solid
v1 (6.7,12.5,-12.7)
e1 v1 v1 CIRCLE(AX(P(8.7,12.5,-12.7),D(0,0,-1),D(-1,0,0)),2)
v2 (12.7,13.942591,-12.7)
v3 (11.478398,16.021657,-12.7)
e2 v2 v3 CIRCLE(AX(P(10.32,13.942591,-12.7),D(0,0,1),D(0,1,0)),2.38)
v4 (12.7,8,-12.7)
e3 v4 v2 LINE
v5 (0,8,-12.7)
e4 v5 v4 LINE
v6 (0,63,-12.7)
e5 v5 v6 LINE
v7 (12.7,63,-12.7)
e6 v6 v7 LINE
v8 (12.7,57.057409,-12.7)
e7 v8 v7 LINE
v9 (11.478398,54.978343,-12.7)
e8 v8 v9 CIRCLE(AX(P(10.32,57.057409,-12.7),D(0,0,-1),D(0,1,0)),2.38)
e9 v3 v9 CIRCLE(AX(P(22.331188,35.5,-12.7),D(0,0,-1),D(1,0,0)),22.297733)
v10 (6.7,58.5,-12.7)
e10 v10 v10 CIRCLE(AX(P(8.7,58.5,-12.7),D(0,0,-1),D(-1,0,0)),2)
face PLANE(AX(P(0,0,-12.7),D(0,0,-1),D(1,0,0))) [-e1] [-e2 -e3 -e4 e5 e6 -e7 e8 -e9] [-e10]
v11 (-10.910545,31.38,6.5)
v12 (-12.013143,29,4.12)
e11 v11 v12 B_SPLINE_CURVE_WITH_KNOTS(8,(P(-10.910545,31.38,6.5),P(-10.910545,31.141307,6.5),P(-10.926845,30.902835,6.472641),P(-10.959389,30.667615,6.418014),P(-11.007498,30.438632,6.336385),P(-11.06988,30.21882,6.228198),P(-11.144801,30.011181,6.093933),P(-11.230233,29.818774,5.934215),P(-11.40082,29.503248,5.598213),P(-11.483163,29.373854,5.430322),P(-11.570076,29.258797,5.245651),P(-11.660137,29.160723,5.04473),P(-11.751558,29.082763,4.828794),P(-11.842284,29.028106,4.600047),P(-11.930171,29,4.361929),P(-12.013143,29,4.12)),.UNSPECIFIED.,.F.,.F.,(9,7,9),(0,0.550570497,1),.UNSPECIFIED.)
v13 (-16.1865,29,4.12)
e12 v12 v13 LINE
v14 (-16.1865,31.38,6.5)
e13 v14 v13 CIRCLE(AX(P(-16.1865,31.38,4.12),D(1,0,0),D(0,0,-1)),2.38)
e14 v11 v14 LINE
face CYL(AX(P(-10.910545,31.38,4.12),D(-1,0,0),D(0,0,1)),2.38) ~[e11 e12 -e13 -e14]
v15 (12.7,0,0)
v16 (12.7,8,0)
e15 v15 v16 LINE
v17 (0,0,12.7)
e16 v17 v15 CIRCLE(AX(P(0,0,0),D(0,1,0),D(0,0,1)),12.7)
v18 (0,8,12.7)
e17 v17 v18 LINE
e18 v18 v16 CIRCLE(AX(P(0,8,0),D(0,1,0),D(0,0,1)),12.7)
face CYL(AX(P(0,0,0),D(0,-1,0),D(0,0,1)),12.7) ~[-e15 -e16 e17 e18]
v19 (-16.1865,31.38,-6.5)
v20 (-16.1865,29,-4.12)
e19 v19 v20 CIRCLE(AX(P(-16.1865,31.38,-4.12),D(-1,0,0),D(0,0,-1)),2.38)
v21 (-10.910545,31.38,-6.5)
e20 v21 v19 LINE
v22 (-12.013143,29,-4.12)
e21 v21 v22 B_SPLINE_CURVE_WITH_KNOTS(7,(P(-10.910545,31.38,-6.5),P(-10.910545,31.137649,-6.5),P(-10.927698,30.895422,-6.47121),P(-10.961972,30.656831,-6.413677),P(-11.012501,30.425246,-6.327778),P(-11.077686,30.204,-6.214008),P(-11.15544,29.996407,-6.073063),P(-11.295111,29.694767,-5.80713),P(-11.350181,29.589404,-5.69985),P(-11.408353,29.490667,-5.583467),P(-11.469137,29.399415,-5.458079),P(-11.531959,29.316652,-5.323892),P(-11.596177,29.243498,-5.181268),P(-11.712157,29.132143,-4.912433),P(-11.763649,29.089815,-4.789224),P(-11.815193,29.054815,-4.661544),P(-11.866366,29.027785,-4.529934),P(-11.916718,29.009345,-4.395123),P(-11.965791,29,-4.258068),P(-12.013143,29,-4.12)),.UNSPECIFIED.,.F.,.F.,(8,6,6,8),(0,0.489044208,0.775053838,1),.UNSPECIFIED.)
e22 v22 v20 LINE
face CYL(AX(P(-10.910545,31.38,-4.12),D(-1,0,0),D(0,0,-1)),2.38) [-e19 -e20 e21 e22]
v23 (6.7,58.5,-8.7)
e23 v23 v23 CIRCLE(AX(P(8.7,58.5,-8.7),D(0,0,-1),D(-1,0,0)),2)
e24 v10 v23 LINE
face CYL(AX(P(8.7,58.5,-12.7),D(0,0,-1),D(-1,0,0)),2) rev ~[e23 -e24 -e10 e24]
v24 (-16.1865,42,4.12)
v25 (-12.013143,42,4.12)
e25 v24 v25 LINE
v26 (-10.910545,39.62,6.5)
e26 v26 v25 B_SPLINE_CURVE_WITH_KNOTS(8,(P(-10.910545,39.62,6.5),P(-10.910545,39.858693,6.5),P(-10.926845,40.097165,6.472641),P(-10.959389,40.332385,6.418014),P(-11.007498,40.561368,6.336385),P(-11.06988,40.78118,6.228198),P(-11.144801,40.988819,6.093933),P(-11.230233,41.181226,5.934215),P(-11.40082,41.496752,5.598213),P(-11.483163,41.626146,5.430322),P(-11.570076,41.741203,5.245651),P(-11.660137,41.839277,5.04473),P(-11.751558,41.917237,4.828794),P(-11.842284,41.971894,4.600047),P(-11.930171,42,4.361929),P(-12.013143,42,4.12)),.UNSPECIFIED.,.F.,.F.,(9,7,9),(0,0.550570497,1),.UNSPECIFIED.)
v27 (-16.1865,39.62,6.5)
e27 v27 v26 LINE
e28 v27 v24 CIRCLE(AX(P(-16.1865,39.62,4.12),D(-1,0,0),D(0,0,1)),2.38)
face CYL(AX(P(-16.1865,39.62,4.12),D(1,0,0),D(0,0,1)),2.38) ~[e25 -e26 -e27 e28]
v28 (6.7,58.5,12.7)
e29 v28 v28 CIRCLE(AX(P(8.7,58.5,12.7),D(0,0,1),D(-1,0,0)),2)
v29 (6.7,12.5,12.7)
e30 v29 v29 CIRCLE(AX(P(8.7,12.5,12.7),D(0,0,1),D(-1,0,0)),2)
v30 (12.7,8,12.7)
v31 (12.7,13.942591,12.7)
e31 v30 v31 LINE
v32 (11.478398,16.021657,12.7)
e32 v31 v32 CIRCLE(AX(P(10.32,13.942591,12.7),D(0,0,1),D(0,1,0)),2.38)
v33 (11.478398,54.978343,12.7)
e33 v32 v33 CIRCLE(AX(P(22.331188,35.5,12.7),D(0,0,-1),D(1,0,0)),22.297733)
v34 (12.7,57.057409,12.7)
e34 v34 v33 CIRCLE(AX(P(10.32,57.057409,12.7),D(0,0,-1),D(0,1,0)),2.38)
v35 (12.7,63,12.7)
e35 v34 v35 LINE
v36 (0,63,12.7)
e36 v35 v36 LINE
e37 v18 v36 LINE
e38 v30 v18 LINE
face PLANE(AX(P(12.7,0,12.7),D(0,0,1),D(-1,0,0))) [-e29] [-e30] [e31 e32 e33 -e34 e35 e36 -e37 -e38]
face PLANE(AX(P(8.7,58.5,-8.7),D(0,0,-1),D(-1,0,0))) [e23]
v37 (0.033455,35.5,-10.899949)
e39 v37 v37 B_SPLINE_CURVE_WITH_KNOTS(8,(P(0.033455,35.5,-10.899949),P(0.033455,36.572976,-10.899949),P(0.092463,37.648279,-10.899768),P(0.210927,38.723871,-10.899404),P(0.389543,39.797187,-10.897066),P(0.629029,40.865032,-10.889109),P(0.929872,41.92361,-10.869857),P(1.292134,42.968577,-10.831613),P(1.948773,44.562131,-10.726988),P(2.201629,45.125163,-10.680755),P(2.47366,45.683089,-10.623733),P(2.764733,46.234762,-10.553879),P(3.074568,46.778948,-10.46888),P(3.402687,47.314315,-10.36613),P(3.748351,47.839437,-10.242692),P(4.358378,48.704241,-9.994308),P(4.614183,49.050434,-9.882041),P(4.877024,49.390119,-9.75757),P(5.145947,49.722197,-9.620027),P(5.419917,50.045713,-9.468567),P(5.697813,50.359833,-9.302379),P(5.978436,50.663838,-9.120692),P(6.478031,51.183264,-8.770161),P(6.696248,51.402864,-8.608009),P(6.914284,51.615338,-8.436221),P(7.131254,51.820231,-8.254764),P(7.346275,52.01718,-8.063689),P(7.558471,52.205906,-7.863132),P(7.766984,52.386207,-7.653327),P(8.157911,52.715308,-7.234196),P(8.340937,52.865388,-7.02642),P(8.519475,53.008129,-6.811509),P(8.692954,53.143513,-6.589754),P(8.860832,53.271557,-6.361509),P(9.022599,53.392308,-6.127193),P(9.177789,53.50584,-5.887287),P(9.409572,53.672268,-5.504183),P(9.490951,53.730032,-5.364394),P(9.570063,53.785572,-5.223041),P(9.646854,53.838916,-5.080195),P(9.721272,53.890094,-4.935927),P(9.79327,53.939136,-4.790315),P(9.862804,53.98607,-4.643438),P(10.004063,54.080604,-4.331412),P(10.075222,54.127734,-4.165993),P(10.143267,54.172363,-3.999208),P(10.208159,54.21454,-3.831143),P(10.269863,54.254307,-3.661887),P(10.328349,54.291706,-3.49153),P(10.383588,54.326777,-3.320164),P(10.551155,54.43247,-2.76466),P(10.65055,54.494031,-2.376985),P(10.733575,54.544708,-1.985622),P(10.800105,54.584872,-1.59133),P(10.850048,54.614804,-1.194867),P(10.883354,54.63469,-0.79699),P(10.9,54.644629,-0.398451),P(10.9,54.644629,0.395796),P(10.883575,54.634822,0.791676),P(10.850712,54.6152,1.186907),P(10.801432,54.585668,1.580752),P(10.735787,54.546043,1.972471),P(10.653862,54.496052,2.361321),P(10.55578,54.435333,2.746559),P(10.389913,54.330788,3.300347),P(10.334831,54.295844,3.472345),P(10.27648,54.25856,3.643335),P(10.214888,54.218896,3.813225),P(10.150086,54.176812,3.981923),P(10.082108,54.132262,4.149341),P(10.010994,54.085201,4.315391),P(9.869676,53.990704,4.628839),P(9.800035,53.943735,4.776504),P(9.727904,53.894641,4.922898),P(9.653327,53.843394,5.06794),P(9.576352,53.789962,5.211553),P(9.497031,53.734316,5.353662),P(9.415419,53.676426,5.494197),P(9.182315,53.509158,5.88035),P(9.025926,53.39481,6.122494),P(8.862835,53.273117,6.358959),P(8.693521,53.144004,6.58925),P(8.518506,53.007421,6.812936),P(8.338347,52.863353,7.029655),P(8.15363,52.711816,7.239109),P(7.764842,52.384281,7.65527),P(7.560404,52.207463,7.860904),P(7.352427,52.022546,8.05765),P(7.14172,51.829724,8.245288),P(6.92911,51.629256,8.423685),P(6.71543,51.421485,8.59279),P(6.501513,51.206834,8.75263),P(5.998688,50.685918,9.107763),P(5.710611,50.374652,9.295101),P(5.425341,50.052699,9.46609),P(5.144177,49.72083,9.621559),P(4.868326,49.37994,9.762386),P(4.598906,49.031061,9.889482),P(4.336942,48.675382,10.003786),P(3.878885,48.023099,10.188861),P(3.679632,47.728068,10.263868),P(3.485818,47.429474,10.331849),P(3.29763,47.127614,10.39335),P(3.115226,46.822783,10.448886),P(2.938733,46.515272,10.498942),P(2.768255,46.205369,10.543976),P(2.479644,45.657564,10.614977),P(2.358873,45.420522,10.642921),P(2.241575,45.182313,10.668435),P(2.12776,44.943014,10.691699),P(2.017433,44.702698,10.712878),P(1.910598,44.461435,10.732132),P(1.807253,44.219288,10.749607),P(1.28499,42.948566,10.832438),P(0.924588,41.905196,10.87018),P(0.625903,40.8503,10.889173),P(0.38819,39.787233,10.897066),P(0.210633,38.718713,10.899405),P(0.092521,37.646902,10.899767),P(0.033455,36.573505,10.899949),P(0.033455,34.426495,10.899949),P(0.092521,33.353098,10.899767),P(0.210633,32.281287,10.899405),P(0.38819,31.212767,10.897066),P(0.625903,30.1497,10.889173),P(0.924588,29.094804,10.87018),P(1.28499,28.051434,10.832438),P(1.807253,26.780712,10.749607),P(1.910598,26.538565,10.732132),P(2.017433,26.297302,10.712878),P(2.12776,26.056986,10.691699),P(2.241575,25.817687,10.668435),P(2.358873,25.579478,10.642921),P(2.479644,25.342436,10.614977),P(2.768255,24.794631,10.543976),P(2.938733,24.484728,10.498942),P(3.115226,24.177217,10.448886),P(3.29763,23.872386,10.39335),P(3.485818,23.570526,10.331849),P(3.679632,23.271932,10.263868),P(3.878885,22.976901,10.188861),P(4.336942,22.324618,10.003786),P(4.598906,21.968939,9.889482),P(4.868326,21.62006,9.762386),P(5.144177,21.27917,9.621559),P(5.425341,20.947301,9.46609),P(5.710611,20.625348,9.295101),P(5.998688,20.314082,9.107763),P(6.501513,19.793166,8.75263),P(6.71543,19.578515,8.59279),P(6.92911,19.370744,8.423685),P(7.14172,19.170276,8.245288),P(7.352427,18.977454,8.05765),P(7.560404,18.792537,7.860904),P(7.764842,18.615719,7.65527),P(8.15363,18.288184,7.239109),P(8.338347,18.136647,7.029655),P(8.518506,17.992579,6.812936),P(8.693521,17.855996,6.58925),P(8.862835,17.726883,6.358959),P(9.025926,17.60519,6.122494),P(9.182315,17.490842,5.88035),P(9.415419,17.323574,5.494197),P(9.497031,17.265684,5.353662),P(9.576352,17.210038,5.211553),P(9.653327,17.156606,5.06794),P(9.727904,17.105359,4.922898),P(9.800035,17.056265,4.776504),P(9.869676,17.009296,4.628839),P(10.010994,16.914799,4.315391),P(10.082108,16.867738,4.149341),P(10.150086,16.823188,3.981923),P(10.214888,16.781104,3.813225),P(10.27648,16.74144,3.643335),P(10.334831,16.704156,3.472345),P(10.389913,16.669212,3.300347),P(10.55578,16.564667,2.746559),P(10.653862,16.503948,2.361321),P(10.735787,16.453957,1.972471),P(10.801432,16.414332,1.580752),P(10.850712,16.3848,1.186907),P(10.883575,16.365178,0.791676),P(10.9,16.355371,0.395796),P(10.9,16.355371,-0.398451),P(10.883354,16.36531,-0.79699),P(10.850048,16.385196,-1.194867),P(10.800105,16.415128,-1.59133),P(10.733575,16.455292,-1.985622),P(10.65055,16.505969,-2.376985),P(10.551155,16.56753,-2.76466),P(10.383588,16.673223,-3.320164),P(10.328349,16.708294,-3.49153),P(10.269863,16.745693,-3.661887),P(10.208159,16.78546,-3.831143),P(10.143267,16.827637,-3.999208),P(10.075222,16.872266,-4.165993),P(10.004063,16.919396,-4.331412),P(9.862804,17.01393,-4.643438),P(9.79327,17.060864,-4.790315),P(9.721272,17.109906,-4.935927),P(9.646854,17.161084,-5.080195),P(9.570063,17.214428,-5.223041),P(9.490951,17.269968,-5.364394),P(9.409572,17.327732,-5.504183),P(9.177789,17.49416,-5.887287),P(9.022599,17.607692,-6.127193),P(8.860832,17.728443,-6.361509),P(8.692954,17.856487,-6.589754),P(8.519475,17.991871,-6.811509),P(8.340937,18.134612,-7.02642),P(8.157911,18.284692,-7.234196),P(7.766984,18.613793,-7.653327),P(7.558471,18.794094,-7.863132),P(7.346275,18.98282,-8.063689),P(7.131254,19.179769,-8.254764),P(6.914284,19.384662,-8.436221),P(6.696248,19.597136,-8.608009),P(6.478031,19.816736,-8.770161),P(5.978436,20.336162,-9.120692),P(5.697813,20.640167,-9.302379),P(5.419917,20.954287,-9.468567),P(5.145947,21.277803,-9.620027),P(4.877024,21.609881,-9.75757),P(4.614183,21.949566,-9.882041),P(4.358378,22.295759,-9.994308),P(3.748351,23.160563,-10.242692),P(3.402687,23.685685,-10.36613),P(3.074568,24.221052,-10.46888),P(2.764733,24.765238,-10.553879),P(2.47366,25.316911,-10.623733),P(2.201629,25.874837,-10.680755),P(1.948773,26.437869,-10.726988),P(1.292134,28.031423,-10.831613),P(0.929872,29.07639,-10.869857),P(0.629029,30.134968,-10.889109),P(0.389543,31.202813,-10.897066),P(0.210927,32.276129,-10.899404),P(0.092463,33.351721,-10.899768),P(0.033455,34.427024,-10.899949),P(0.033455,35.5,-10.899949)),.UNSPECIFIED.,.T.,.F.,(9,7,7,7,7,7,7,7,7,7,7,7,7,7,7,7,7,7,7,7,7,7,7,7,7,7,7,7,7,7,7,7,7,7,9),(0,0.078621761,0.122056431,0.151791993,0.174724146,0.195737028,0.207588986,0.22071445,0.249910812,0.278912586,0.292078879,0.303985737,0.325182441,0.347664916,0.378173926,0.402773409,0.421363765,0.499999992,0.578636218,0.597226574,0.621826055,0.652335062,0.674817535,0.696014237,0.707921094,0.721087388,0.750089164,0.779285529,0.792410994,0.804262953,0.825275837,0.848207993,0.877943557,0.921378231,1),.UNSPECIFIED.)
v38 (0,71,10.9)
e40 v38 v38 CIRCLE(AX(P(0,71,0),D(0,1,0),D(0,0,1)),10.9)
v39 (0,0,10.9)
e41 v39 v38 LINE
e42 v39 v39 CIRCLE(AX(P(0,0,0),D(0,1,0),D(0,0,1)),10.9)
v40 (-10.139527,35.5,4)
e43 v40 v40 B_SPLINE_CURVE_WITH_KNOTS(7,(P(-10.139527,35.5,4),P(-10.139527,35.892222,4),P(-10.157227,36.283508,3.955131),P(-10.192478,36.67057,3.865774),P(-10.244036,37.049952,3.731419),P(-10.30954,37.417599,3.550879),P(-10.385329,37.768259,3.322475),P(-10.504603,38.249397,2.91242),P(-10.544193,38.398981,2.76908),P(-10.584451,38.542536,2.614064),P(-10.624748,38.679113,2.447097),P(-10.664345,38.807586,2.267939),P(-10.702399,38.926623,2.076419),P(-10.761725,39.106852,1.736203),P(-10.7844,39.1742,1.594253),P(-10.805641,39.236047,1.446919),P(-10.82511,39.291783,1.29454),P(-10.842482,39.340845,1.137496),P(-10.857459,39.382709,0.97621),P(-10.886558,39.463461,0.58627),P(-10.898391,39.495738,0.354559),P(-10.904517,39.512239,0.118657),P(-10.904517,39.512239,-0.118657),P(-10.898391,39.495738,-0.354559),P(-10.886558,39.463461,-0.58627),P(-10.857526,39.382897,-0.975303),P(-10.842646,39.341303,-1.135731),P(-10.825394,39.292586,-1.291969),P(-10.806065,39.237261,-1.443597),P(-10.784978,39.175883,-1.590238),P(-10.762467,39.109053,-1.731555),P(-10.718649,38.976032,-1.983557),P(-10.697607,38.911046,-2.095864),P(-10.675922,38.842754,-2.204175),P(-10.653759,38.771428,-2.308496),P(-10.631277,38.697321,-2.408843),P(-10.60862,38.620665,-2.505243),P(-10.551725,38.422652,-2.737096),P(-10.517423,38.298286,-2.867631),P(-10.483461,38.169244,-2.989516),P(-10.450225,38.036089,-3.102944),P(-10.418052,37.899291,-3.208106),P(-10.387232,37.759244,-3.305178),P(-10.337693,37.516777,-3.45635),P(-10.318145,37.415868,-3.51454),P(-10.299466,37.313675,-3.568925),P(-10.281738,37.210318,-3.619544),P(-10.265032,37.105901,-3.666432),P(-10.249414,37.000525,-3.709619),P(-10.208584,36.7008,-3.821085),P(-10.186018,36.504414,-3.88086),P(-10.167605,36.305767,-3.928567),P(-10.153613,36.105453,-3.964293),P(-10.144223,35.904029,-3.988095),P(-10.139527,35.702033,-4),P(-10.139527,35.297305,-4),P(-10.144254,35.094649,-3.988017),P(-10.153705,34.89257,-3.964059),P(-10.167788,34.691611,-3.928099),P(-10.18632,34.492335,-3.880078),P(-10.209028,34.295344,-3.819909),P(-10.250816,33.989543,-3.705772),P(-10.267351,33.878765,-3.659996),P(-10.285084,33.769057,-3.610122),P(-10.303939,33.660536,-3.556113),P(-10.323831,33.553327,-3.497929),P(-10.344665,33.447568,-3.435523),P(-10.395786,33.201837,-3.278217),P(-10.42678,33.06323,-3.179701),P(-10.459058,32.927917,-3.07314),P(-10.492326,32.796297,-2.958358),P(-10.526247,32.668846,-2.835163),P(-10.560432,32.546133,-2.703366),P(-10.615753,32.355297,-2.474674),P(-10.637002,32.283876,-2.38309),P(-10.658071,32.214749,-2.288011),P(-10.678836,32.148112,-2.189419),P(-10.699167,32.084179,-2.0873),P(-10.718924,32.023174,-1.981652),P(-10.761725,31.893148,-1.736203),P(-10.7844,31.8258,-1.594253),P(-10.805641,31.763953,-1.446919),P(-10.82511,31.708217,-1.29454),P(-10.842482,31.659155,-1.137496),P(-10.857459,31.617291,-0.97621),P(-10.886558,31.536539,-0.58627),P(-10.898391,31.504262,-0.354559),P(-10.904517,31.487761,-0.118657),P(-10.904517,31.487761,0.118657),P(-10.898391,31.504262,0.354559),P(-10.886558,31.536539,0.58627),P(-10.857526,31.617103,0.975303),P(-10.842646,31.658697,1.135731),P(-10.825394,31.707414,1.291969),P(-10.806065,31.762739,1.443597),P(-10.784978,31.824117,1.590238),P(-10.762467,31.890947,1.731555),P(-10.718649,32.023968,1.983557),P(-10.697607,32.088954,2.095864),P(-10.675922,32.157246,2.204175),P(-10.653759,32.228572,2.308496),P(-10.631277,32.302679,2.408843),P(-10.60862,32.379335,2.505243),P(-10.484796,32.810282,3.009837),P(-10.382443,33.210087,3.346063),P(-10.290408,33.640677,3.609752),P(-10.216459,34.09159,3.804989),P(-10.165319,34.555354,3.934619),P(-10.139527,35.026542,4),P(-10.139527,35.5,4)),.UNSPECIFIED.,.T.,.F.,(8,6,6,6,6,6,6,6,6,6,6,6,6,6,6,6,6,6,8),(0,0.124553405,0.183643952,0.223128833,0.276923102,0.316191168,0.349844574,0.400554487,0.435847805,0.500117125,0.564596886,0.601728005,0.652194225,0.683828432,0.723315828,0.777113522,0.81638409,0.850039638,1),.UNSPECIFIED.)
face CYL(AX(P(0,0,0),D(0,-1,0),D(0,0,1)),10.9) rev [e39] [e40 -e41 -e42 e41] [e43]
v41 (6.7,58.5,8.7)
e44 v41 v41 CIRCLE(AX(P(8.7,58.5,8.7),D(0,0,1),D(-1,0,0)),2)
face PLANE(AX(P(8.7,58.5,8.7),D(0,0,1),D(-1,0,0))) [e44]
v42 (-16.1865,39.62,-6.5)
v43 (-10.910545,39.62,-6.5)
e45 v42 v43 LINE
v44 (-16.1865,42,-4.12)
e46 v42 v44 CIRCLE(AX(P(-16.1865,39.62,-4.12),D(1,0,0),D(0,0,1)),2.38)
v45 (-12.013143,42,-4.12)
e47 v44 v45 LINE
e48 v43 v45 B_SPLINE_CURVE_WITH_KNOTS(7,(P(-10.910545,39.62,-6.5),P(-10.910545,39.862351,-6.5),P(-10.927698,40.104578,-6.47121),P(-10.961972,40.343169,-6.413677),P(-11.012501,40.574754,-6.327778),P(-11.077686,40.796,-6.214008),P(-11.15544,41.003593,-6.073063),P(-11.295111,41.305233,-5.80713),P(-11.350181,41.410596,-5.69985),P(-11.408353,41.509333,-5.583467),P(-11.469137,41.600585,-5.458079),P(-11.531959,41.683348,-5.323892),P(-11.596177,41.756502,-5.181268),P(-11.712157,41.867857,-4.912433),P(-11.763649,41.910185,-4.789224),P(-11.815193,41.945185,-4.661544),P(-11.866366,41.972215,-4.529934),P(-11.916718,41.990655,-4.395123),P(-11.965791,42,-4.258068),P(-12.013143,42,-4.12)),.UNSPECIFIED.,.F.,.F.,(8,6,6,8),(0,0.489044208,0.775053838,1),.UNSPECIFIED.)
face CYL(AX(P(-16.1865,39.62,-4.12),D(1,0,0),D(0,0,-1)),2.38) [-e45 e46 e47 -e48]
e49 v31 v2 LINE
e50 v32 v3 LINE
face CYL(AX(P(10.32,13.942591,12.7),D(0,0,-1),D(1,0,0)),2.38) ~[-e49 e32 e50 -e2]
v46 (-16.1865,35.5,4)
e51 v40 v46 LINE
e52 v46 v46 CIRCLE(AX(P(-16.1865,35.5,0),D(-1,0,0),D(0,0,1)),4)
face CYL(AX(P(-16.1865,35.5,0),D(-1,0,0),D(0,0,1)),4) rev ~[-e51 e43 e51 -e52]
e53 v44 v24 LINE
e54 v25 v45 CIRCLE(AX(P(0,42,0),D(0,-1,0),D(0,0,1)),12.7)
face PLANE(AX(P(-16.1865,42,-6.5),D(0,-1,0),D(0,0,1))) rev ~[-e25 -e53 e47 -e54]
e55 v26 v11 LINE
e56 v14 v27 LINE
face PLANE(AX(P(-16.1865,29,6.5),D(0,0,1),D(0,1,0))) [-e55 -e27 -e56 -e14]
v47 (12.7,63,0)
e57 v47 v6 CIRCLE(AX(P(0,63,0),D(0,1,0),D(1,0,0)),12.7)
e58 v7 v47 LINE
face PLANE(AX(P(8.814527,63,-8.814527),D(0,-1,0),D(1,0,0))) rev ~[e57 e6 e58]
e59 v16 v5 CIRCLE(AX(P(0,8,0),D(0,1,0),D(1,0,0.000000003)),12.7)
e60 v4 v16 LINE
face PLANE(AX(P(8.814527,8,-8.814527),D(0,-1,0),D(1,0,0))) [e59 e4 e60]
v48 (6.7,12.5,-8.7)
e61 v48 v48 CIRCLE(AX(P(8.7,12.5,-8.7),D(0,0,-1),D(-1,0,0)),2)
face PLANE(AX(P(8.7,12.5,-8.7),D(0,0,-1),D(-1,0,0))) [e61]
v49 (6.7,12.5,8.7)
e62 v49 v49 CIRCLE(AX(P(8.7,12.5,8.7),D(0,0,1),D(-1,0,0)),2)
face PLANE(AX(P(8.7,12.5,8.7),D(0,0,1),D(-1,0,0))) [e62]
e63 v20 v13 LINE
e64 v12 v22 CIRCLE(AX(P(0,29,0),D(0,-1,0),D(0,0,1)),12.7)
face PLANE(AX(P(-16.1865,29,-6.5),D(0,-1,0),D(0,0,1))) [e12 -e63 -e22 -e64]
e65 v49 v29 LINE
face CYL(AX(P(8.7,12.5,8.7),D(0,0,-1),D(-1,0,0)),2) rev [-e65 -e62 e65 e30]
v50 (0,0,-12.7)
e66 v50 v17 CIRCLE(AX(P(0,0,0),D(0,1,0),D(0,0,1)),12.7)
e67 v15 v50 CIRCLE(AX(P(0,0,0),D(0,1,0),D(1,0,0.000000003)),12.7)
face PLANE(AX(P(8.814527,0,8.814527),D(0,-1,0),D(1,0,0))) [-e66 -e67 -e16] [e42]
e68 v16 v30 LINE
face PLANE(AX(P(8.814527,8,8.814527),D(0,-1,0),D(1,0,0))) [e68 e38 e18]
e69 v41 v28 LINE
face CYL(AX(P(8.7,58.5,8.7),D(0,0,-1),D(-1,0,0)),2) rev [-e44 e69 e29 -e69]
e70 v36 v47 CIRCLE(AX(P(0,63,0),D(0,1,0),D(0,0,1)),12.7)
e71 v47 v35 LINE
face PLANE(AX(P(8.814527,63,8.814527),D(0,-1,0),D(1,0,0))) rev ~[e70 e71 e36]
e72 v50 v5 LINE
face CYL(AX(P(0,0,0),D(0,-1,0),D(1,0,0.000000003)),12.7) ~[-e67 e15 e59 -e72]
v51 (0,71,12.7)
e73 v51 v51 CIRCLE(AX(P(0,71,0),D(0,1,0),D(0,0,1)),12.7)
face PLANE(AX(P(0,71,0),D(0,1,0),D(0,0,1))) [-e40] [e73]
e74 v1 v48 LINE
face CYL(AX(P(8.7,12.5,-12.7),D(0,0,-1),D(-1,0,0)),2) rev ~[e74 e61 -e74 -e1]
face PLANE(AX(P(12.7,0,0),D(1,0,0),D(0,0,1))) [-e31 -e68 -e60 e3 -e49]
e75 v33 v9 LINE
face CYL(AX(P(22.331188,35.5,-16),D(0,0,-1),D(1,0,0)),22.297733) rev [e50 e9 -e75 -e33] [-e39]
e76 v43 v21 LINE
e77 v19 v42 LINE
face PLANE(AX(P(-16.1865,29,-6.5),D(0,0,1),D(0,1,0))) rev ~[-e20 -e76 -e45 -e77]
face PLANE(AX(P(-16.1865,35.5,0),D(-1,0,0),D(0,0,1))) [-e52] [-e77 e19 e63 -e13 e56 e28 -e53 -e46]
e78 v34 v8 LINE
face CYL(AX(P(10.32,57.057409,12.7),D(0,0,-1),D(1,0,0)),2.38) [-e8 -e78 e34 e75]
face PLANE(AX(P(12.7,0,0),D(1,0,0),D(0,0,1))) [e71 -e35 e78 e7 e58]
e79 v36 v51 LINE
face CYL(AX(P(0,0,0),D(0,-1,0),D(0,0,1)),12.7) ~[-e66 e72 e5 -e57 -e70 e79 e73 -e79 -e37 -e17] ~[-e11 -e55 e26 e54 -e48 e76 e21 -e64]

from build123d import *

# Parameters (mm, degrees)
SKETCH1_R                = 12.7
SKETCH1_R_2              = 10.9
BOSS_EXTRUDE1_DEPTH      = 71
BOSS_EXTRUDE2_DEPTH      = 63
CUT_EXTRUDE1_DEPTH       = 8
CUT_EXTRUDE2_DEPTH       = 15
CUT_EXTRUDE2_DEPTH_BACK  = 16
SKETCH4_R                = 22.297733005
SKETCH5_R                = 2
CUT_EXTRUDE3_DEPTH       = 4
CUT_EXTRUDE4_START       = -4
SKETCH6_R                = 2
CUT_EXTRUDE4_DEPTH       = 4
BOSS_EXTRUDE3_DEPTH      = 6.5
BOSS_EXTRUDE3_DEPTH_BACK = 6.5
SKETCH15_R               = 4
CUT_EXTRUDE14_DEPTH      = 7.5
BOSS_EXTRUDE4_START      = 1.75
SKETCH16_W               = 13
SKETCH16_H               = 13
SKETCH16_R               = 4
BOSS_EXTRUDE4_DEPTH      = 1.75
FILLET1_R                = 2.38
FILLET2_R                = 2.38


with BuildPart() as part:
    # Sketch1 → Boss-Extrude1 (new body)
    with BuildSketch(Plane(origin=(0, 0, 0), x_dir=(1, 0, 0), z_dir=(0, 1, 0))):
        with Locations(Location((0, 0, 0), (0, 0, 270))):
            Circle(SKETCH1_R)
        with Locations(Location((0, 0, 0), (0, 0, 270))):
            Circle(SKETCH1_R_2, mode=Mode.SUBTRACT)
    extrude(amount=BOSS_EXTRUDE1_DEPTH)

    # Sketch2 → Boss-Extrude2 (add)
    with BuildSketch(Plane.XZ):
        with BuildLine():
            Line((12.7, 12.7), (0, 12.7))
            ThreePointArc((0, 12.7), (8.980256121, 8.980256121), (12.7, 0))
            Line((12.7, 0), (12.7, 12.7))
        make_face()
        with BuildLine():
            Line((12.7, -12.7), (12.7, 0))
            ThreePointArc((12.7, 0), (8.980256121, -8.980256121), (0, -12.7))
            Line((0, -12.7), (12.7, -12.7))
        make_face()
    extrude(amount=-BOSS_EXTRUDE2_DEPTH)

    # Sketch3 → Cut-Extrude1 (cut)
    with BuildSketch(Plane.XZ):
        with BuildLine():
            Line((12.7, 12.7), (0, 12.7))
            ThreePointArc((0, 12.7), (8.980256109, 8.980256133), (12.7, 3.4e-08))
            Line((12.7, 3.4e-08), (12.7, 12.7))
        make_face()
        with BuildLine():
            Line((12.7, -12.7), (12.7, 3.4e-08))
            ThreePointArc((12.7, 3.4e-08), (8.980256133, -8.980256109), (0, -12.7))
            Line((0, -12.7), (12.7, -12.7))
        make_face()
    extrude(amount=-CUT_EXTRUDE1_DEPTH, mode=Mode.SUBTRACT)

    # Sketch4 → Cut-Extrude2 (cut, two sides: drawn at the far end of the back side and taken through both)
    with BuildSketch(Plane.XY.offset(-CUT_EXTRUDE2_DEPTH_BACK)):
        with Locations((22.331187996, 35.5)):
            Circle(SKETCH4_R)
    extrude(amount=CUT_EXTRUDE2_DEPTH + CUT_EXTRUDE2_DEPTH_BACK, mode=Mode.SUBTRACT)

    # Sketch5 → Cut-Extrude3 (cut)
    with BuildSketch(Plane(origin=(0, 0, -12.7), x_dir=(-1, 0, 0), z_dir=(0, 0, -1))):
        with Locations((-8.7, 58.5)):
            Circle(SKETCH5_R)
        with Locations((-8.7, 12.5)):
            Circle(SKETCH5_R)
    extrude(amount=-CUT_EXTRUDE3_DEPTH, mode=Mode.SUBTRACT)

    # Sketch6 → Cut-Extrude4 (cut)
    with BuildSketch(Plane.XY.offset(12.7).offset(CUT_EXTRUDE4_START)):
        with Locations(Location((8.7, 58.5, 0), (0, 0, 180))):
            Circle(SKETCH6_R)
        with Locations(Location((8.7, 12.5, 0), (0, 0, 180))):
            Circle(SKETCH6_R)
    extrude(amount=CUT_EXTRUDE4_DEPTH, mode=Mode.SUBTRACT)

    # Sketch14 → Boss-Extrude3 (add, two sides: drawn at the far end of the back side and taken through both)
    with BuildSketch(Plane(origin=(0, 35.5, 0), x_dir=(1, 0, 0), z_dir=(0, 1, 0)).offset(-BOSS_EXTRUDE3_DEPTH_BACK)):
        with BuildLine():
            Line((-14.4365, -6.5), (-14.4365, 6.5))
            Line((-14.4365, 6.5), (-10.836564596, 6.5))
            ThreePointArc((-10.836564596, 6.5), (-12.6365, 0), (-10.836564596, -6.5))
            Line((-10.836564596, -6.5), (-14.4365, -6.5))
        make_face()
    extrude(amount=BOSS_EXTRUDE3_DEPTH + BOSS_EXTRUDE3_DEPTH_BACK)

    # Sketch15 → Cut-Extrude14 (cut)
    with BuildSketch(Plane.ZY.offset(14.4365)):
        with Locations((0, 35.5)):
            Circle(SKETCH15_R)
    extrude(amount=-CUT_EXTRUDE14_DEPTH, mode=Mode.SUBTRACT)

    # Sketch16 → Boss-Extrude4 (add)
    with BuildSketch(Plane.ZY.offset(14.4365).offset(BOSS_EXTRUDE4_START)):
        with Locations((0, 35.5)):
            Rectangle(SKETCH16_W, SKETCH16_H)
        with Locations((0, 35.5)):
            Circle(SKETCH16_R, mode=Mode.SUBTRACT)
    extrude(amount=-BOSS_EXTRUDE4_DEPTH)

    # Fillet1
    fillet1_edges = [part.edges().sort_by_distance(p)[0] for p in [
        (-13.548522679, 29, 6.5),
        (-13.548522679, 29, -6.5),
        (-13.548522679, 42, -6.5),
        (-13.548522679, 42, 6.5),
    ]]
    fillet(fillet1_edges, radius=FILLET1_R)

    # Fillet2
    fillet2_edges = [part.edges().sort_by_distance(p)[0] for p in [
        (12.7, 15.389576958, 0),
        (12.7, 55.610423042, 0),
    ]]
    fillet(fillet2_edges, radius=FILLET2_R)


solid = part.part
